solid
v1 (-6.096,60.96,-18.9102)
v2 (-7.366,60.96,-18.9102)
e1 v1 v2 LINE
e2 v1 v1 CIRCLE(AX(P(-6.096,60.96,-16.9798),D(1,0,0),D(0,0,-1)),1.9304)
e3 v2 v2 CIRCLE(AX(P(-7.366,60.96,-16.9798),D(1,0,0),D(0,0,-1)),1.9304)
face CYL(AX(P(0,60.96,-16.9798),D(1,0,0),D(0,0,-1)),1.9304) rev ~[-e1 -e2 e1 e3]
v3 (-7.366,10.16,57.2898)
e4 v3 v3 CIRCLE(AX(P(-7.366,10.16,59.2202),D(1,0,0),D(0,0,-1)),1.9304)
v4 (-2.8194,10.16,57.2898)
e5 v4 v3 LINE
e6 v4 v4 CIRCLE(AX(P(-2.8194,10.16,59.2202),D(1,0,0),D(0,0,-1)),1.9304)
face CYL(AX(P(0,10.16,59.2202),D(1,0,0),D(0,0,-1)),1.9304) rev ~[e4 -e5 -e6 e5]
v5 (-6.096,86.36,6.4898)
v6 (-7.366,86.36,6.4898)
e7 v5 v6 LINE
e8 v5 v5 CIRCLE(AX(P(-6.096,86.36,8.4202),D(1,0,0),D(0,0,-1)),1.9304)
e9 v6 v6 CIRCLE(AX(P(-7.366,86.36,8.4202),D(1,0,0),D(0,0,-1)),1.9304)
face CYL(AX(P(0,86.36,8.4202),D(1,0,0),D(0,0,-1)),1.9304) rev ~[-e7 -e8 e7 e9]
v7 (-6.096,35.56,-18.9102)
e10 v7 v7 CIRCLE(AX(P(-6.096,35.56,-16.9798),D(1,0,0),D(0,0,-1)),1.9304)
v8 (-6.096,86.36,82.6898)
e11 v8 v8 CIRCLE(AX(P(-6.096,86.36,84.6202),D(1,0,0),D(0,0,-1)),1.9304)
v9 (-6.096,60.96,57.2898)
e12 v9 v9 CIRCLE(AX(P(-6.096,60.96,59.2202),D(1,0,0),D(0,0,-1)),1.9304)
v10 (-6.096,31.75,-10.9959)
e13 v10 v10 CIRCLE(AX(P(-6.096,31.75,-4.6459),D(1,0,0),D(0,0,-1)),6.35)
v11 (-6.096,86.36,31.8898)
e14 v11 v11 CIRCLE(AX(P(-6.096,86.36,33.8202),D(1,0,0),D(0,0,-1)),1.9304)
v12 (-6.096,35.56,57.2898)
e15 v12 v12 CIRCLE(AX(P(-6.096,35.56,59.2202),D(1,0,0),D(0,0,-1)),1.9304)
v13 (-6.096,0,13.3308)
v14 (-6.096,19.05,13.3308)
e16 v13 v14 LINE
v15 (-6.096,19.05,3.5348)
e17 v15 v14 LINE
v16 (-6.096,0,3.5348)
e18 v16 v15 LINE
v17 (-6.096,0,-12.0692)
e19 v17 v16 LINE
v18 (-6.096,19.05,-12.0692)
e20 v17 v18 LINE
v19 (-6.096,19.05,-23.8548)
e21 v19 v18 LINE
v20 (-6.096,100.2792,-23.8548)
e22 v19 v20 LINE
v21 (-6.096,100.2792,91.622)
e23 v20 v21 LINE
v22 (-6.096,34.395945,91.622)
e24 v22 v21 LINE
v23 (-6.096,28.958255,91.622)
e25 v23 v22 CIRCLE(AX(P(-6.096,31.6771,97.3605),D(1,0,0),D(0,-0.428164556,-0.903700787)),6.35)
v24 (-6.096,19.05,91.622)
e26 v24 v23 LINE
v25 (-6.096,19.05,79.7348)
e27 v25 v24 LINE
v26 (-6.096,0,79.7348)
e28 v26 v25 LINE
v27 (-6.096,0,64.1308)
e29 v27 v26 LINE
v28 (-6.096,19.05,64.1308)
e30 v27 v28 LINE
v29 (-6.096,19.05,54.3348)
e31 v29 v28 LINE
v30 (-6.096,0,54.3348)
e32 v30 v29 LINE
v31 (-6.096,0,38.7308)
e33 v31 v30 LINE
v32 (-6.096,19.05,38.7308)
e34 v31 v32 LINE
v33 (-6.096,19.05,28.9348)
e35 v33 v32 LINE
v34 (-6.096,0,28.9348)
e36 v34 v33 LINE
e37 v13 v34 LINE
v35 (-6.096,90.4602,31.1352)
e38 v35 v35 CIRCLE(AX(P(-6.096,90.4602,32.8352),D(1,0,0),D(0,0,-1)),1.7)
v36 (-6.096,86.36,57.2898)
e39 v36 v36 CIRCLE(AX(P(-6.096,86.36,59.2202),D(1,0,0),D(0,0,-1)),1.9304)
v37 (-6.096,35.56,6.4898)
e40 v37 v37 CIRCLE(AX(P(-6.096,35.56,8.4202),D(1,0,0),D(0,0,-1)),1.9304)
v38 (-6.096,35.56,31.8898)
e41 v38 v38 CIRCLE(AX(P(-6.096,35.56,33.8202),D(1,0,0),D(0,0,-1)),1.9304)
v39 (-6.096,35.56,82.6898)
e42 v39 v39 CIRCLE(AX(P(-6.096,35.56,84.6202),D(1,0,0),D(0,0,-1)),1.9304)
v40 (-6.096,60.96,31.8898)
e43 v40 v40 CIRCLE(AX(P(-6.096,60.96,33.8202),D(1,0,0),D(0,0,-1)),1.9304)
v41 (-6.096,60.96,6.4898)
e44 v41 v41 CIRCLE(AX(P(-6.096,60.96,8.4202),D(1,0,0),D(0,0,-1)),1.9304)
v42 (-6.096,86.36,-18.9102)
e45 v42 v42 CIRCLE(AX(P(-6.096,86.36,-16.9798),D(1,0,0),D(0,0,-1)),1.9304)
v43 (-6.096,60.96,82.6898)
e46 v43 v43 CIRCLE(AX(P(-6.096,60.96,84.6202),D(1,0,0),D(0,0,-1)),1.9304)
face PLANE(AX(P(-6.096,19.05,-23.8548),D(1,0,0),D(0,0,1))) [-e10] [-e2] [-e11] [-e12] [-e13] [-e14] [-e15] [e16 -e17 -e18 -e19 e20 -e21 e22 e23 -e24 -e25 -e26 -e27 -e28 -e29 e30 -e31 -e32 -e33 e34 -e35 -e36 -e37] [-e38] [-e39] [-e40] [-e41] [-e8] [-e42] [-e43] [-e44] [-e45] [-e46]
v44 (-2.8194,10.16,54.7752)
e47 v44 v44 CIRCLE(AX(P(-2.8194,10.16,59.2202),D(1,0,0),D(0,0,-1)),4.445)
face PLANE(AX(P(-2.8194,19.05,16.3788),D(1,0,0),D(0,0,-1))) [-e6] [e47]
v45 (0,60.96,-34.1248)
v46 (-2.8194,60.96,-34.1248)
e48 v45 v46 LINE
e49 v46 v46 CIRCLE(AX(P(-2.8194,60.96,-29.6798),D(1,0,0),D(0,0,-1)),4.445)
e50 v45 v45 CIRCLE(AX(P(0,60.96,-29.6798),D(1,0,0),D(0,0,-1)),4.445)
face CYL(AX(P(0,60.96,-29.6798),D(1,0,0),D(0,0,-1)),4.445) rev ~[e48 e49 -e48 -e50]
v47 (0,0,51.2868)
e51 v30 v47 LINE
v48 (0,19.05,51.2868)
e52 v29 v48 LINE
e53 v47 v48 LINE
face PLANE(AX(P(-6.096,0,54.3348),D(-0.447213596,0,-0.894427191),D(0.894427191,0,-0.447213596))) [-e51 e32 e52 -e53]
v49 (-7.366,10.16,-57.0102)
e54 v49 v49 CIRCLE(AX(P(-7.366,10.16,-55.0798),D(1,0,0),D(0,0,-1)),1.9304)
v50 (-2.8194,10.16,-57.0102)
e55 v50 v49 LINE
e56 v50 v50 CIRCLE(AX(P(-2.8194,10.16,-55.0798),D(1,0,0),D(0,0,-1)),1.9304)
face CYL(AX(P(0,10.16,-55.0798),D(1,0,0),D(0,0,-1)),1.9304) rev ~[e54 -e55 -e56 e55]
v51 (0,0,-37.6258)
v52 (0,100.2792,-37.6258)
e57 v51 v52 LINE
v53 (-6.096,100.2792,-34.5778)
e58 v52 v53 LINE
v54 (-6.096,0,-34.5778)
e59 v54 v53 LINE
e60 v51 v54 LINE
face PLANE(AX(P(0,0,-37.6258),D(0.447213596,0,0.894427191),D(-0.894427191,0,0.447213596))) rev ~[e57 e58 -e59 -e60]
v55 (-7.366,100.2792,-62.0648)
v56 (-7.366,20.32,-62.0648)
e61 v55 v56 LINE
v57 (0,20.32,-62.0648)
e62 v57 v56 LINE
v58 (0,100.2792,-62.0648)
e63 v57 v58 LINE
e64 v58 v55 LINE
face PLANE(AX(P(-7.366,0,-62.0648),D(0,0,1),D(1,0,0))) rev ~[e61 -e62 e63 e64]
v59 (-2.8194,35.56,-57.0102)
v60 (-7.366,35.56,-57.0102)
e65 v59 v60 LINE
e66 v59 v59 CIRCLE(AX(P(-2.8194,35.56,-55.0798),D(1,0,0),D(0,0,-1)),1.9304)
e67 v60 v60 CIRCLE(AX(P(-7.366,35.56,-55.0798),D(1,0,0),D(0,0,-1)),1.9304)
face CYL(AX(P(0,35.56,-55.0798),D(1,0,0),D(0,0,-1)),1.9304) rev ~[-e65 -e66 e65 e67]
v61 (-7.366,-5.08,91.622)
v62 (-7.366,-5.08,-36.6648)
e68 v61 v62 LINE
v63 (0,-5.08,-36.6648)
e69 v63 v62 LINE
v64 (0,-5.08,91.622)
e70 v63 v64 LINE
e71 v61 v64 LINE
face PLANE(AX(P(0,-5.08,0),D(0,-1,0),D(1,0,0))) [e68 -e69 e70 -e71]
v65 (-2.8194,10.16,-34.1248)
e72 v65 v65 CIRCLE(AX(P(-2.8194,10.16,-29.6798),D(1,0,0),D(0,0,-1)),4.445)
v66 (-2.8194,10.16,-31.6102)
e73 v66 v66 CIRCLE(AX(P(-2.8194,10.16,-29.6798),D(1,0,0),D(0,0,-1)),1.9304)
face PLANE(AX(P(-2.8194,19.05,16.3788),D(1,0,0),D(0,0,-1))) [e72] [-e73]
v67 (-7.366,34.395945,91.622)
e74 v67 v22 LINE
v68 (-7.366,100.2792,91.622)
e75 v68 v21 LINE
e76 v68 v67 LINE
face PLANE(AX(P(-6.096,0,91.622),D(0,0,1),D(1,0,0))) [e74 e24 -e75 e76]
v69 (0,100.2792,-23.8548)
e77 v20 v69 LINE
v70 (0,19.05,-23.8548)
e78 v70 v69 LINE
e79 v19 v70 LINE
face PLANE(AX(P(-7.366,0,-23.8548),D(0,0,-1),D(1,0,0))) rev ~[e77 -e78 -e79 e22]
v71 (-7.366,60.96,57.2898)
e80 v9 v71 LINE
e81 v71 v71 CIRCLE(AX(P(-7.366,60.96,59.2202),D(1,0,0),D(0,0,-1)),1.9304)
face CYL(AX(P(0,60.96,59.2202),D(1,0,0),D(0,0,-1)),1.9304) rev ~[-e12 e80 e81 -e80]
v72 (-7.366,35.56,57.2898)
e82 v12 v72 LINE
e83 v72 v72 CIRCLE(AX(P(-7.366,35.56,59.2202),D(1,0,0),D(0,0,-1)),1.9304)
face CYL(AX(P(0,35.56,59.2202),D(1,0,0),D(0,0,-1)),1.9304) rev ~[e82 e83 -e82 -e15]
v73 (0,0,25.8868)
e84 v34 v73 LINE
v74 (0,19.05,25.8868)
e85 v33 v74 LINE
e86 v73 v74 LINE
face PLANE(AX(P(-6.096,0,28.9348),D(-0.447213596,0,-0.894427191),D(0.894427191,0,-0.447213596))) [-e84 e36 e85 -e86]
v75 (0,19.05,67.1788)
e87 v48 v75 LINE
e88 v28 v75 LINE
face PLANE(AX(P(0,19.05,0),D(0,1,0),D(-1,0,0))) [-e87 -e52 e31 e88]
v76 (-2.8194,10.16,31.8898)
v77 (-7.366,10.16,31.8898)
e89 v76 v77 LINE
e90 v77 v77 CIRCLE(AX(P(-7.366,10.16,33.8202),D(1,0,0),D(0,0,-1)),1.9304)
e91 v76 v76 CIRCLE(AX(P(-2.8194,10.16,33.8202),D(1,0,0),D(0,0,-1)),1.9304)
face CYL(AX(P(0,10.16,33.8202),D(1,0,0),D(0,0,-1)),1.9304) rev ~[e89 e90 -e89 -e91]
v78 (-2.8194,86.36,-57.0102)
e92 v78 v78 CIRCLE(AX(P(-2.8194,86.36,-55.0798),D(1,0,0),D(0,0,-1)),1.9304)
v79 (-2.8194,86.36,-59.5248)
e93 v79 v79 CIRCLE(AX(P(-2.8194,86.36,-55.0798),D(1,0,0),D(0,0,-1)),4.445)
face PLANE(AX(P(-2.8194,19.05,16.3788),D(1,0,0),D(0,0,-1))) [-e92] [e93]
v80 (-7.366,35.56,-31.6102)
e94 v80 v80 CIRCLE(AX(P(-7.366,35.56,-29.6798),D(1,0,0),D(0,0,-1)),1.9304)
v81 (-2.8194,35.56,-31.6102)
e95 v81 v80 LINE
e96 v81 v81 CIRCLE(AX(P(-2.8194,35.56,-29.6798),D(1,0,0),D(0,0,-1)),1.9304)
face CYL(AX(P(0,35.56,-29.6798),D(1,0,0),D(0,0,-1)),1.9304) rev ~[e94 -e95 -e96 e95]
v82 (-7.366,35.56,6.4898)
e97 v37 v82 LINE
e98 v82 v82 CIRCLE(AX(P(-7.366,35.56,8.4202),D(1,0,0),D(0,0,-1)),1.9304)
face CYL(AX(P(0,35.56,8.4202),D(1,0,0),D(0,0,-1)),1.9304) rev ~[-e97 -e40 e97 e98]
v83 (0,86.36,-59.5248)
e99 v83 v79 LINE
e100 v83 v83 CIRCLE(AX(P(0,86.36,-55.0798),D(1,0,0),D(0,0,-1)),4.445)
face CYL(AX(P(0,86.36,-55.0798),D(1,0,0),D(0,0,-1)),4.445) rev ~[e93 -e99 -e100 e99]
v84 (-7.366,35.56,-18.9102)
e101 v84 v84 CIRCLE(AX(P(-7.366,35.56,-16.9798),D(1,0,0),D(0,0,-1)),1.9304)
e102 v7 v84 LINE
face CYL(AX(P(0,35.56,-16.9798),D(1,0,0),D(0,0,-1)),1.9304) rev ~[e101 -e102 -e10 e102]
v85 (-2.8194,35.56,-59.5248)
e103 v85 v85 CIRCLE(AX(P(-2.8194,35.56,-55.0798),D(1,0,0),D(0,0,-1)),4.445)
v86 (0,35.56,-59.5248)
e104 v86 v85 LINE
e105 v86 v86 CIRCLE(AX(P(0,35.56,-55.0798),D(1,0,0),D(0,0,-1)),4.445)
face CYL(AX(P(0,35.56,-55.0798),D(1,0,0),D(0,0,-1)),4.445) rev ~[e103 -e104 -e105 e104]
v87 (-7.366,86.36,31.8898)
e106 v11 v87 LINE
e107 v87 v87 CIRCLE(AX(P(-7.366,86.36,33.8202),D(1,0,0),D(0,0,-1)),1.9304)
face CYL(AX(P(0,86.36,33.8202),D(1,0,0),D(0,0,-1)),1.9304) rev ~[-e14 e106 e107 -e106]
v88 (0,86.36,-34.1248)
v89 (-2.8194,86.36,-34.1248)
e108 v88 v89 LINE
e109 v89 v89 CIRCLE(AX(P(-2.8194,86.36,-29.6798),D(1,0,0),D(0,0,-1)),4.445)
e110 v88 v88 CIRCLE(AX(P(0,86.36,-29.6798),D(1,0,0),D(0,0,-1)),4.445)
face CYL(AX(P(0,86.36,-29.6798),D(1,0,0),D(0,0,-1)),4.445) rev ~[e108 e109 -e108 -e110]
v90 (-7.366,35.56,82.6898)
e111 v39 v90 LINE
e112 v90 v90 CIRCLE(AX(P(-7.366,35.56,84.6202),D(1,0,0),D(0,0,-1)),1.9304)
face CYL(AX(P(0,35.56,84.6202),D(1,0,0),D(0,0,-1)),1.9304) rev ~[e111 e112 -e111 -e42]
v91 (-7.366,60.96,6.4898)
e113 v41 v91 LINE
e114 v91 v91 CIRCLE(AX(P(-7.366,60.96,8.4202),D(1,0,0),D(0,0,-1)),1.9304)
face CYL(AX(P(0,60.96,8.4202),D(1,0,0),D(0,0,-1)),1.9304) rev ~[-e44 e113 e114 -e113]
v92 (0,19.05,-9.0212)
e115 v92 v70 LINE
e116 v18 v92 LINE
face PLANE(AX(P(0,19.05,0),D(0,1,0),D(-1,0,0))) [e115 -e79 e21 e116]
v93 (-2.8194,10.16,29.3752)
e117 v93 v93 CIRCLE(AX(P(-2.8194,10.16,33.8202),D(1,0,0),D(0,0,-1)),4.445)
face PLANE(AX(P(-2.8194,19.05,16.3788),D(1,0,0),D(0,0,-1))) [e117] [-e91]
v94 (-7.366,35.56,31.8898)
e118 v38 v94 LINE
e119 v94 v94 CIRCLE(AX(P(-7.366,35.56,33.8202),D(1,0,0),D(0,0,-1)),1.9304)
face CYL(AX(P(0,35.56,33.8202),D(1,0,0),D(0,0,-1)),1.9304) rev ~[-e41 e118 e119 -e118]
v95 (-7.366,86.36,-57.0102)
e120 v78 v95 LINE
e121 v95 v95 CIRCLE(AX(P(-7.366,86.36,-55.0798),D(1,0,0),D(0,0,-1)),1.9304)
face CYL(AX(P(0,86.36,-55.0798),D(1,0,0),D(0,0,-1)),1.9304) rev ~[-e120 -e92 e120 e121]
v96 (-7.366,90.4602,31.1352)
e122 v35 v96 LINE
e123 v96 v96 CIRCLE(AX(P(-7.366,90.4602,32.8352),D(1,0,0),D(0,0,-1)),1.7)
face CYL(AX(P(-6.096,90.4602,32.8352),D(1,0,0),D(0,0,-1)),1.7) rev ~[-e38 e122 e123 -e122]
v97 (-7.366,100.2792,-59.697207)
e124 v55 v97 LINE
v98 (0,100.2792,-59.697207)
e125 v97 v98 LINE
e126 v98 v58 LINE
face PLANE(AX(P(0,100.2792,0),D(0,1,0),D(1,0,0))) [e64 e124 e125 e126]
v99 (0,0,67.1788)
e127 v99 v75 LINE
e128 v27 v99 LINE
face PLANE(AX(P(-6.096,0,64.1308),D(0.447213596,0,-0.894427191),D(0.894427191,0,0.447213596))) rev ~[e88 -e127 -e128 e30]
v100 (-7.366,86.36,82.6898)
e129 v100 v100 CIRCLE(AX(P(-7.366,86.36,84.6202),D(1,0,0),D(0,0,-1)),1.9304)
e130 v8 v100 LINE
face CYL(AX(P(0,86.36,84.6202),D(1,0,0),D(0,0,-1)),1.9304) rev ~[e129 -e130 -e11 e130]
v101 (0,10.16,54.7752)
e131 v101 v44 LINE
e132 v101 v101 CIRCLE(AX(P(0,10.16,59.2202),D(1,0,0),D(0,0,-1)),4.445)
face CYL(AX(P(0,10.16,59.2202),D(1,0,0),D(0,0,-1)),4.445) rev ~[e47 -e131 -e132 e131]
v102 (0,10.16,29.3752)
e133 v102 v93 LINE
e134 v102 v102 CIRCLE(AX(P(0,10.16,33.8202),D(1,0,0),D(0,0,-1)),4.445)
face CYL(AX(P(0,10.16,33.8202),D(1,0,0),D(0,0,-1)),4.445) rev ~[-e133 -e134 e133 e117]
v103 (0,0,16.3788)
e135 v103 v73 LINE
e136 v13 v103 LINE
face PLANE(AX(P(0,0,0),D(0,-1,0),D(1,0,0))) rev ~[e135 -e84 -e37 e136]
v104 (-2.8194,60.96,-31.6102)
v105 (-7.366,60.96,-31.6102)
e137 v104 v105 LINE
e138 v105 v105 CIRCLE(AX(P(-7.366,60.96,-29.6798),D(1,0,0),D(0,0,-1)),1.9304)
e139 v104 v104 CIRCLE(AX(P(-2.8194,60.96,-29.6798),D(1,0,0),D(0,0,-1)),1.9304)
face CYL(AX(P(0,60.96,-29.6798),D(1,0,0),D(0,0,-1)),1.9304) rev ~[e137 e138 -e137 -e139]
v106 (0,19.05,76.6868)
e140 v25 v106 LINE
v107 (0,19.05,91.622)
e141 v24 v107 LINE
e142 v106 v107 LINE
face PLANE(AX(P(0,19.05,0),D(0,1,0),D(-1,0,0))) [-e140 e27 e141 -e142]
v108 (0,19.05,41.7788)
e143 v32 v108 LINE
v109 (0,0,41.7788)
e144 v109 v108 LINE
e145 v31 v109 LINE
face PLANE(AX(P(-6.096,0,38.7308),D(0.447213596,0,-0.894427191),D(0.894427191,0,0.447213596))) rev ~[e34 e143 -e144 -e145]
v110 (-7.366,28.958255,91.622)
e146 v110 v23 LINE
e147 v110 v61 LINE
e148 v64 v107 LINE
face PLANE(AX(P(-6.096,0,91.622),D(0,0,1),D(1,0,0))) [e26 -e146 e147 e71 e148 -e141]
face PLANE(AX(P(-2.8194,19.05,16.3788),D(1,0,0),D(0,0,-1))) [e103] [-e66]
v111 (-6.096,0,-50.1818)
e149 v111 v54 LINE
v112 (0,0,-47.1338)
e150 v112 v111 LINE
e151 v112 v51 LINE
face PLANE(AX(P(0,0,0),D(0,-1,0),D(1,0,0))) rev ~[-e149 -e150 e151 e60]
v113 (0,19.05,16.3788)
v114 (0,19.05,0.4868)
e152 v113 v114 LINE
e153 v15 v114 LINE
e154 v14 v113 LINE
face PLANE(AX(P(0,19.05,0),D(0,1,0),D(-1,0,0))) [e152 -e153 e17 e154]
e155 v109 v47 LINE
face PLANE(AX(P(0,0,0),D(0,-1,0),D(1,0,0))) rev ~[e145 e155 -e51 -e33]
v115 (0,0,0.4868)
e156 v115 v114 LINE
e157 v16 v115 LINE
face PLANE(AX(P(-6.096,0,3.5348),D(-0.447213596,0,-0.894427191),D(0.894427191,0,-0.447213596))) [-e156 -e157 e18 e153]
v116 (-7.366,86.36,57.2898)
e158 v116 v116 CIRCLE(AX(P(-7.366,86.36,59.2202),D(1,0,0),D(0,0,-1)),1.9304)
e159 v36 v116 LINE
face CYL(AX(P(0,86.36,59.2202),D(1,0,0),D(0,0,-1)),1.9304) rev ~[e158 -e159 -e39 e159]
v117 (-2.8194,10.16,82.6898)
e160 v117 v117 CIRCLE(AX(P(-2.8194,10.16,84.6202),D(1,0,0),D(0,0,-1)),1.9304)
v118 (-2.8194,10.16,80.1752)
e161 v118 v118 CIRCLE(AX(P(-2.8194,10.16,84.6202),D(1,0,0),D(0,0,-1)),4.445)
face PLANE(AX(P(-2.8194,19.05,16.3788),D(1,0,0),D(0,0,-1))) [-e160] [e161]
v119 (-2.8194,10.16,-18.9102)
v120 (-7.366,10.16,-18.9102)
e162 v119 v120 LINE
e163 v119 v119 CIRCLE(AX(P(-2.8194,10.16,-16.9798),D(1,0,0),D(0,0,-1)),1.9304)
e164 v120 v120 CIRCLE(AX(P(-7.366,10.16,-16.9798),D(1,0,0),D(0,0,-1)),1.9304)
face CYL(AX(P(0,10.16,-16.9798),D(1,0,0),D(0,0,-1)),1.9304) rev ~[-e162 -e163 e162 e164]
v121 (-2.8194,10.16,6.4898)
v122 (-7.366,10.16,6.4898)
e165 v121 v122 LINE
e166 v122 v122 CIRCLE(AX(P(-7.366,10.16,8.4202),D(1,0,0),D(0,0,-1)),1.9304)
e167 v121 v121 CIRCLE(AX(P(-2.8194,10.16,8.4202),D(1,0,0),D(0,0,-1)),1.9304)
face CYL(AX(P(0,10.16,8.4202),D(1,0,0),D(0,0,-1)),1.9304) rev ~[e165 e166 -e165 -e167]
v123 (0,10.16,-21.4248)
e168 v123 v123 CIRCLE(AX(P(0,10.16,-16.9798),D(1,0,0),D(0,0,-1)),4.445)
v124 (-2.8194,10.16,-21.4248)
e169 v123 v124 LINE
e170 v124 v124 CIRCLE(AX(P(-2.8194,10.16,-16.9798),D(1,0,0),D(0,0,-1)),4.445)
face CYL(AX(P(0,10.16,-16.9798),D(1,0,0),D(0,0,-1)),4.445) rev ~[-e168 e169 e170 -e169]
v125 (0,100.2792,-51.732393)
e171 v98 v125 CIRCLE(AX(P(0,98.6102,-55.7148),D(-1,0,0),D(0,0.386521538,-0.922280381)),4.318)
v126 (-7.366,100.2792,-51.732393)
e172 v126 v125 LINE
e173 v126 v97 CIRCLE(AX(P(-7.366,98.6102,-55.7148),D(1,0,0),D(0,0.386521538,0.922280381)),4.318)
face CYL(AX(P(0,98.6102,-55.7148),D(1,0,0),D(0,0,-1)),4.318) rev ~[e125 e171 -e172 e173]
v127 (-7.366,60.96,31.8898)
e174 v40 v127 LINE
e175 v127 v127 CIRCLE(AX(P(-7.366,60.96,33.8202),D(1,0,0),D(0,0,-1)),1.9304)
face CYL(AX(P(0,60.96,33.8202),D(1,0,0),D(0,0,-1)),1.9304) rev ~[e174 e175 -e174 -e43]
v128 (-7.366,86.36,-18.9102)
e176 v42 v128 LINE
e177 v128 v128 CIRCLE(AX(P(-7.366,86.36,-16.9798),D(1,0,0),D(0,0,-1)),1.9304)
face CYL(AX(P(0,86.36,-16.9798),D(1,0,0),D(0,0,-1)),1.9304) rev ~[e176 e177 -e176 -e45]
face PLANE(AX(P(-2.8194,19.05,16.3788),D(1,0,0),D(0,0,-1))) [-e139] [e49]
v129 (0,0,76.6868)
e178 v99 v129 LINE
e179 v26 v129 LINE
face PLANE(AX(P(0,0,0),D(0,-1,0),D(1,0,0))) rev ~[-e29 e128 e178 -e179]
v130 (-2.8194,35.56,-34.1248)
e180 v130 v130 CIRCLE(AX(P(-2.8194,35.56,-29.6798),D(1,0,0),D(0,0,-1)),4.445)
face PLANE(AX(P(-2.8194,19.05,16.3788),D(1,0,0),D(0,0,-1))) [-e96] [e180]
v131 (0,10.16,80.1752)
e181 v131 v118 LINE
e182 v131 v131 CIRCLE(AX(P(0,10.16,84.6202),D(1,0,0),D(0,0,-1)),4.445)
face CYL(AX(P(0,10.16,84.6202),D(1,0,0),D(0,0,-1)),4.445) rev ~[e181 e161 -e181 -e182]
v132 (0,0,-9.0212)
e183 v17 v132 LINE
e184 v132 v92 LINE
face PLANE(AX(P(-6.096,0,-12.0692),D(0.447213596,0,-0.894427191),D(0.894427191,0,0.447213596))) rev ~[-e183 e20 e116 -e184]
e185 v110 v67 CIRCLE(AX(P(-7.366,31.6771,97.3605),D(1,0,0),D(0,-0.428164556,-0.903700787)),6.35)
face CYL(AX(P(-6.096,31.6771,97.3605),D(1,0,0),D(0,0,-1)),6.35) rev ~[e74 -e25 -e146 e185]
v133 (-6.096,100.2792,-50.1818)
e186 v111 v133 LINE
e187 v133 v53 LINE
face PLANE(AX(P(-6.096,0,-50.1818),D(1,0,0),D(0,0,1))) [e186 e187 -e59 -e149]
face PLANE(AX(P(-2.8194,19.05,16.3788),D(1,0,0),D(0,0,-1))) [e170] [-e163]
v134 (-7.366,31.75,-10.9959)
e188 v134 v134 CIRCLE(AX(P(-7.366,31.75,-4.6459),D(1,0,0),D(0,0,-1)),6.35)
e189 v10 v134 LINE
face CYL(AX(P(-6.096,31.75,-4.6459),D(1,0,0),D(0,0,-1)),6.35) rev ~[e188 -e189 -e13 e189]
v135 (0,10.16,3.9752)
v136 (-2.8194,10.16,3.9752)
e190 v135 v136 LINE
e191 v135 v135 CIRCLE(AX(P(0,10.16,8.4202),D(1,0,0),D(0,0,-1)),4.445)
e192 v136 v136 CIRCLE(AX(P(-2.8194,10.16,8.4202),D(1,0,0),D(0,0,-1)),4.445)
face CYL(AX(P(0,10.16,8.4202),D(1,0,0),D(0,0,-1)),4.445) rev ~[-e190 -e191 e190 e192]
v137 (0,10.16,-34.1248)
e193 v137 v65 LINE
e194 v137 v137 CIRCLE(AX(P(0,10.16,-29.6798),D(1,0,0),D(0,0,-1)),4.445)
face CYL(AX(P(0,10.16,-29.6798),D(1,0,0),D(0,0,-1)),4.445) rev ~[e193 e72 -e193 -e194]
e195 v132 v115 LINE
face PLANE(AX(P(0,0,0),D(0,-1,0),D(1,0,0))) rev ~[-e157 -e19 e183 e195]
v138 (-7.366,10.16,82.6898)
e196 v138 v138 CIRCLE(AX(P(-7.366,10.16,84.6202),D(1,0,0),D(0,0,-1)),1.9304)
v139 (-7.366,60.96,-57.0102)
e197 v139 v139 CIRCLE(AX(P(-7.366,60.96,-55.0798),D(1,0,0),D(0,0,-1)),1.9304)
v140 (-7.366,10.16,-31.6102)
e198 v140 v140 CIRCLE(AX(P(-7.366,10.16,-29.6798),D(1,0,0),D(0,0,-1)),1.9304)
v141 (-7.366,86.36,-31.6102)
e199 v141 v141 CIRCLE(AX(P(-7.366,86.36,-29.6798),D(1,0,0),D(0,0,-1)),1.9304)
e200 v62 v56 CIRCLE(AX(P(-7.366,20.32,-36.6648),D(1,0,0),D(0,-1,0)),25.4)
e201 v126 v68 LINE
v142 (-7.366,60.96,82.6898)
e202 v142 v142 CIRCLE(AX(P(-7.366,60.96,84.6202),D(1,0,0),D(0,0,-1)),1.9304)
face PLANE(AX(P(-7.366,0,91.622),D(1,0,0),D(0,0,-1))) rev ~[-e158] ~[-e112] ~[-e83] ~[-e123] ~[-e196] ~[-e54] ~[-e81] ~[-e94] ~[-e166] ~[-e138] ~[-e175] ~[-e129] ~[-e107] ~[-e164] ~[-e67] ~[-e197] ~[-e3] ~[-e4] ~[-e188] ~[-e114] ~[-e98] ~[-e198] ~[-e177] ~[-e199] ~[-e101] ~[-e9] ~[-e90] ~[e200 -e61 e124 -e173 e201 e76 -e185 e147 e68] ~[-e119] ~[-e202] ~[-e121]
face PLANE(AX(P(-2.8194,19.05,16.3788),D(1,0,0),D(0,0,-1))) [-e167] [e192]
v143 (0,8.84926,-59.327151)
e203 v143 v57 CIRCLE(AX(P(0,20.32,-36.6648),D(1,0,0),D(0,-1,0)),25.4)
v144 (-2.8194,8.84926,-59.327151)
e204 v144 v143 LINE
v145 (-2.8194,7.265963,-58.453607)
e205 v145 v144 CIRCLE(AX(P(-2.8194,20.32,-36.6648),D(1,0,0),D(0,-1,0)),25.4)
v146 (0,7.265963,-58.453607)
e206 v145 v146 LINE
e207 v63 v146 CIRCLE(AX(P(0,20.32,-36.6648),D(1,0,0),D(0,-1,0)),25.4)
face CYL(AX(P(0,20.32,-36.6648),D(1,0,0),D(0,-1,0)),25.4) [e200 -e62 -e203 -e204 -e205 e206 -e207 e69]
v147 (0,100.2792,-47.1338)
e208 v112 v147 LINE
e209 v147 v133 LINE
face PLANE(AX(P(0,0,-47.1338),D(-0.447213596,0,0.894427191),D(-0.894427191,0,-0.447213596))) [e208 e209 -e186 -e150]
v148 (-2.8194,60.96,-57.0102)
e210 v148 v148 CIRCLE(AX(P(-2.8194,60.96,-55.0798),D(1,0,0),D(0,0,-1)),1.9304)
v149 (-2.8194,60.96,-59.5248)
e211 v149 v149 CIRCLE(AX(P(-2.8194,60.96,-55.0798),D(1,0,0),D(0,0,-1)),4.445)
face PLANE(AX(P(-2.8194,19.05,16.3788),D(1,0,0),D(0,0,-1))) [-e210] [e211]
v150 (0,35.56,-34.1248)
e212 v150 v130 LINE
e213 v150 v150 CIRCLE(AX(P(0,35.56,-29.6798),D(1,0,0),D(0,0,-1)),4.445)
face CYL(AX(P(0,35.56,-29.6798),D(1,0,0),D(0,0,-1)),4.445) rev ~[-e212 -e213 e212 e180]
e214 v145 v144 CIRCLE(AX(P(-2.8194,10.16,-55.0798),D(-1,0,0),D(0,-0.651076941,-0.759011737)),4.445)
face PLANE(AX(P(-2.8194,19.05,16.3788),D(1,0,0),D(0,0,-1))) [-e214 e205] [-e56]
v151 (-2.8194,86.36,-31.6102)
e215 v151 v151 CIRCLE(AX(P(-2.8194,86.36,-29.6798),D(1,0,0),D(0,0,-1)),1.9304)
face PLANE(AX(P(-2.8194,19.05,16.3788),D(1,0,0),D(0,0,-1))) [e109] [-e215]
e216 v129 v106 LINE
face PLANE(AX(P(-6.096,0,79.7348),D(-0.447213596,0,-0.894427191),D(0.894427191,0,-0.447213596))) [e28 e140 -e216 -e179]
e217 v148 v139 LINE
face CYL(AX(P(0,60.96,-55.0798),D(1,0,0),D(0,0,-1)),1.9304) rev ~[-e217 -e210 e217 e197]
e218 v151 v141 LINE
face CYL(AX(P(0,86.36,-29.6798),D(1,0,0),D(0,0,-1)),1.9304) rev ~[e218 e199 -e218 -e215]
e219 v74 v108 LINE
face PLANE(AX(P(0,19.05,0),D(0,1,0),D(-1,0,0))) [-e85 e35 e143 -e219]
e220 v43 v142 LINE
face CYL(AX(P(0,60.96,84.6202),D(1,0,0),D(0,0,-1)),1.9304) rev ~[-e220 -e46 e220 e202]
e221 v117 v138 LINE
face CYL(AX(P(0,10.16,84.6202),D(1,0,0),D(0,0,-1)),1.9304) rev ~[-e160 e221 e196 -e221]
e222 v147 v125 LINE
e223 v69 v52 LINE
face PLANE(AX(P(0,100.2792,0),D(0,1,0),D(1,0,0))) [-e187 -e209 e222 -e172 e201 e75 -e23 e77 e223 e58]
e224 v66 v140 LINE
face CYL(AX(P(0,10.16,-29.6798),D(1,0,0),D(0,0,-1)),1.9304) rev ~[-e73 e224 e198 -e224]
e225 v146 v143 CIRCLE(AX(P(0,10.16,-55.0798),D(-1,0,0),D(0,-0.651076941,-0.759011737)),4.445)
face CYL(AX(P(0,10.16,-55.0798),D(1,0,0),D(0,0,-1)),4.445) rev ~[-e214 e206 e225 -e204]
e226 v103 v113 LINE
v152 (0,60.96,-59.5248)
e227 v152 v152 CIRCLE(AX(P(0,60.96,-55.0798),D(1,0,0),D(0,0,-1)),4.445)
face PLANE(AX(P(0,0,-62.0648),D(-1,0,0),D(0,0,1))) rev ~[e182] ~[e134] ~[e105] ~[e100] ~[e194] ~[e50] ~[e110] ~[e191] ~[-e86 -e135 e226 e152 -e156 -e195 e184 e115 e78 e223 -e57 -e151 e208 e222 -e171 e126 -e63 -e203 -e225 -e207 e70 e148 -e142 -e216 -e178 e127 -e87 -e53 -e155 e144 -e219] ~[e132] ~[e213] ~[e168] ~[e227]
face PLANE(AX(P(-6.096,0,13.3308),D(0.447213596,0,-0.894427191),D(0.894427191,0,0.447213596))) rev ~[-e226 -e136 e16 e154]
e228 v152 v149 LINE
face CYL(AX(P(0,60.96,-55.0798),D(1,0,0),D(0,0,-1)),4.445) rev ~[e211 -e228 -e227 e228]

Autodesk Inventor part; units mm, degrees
ref_plane "YZ Plane" through (0, 0, 0) normal (1, 0, 0) x (0, 1, 0)
ref_plane "XZ Plane" through (0, 0, 0) normal (0, 1, 0) x (-1, 0, 0)
ref_plane "XY Plane" through (0, 0, 0) normal (0, 0, 1) x (1, 0, 0)
sketch "Sketch1" plane through (0, 0, 0) normal (0, 1, 0) x (-1, 0, 0)
  line L0 (7.366, 6.1452) -> (7.366, -23.8548)
  line L1 (7.366, -23.8548) -> (0, -23.8548)
  line L2 (6.096, -8.0476) -> (6.096, -9.0212)
  line L3 (0, 0.4868) -> (0, 3.5348)
  line L4 (6.096, 3.5348) -> (6.096, -8.0476)
  line L5 (0, -9.0212) -> (0, -11.8152)
  line L6 (6.096, -12.0692) -> (6.096, -9.0212)
  line L7 (6.096, 3.5348) -> (0, 0.4868)
  line L8 (6.096, -12.0692) -> (0, -9.0212)
  line L9 (0, -23.8548) -> (0, -9.0212)
  line L10 (0, 0.4868) -> (0, 16.3788)
  line L11 (6.096, 13.3308) -> (6.096, 16.3788)
  line L12 (6.096, 13.3308) -> (0, 16.3788)
  line L13 (6.096, 28.9348) -> (6.096, 17.3524)
  line L14 (6.096, 28.9348) -> (0, 25.8868)
  line L15 (6.096, 17.3524) -> (6.096, 16.3788)
  line L16 (6.096, 38.7308) -> (6.096, 41.7788)
  line L17 (6.096, 38.7308) -> (0, 41.7788)
  line L18 (6.096, 54.3348) -> (6.096, 42.7524)
  line L19 (6.096, 54.3348) -> (0, 51.2868)
  line L20 (6.096, 42.7524) -> (6.096, 41.7788)
  line L21 (6.096, 64.1308) -> (6.096, 67.1788)
  line L22 (6.096, 64.1308) -> (0, 67.1788)
  line L23 (6.096, 79.7348) -> (6.096, 68.1524)
  line L24 (6.096, 79.7348) -> (0, 76.6868)
  line L25 (6.096, 68.1524) -> (6.096, 67.1788)
  line L26 (7.366, 6.1452) -> (7.366, 91.622)
  line L27 (7.366, 91.622) -> (0, 91.622)
  line L28 (0, 25.8868) -> (0, 41.7788)
  line L29 (0, 51.2868) -> (0, 67.1788)
  line L30 (0, 76.6868) -> (0, 91.622)
  line L31 (6.096, -4.2672) -> (4.0009, -4.2672) construction
  point P0 (0, 0)
  dimension "d0" = 7.366
  dimension "d8" = 9.508
  dimension "d10" = 3.048
  dimension "d11" = 3.048
  dimension "d12" = 6.096
  dimension "d17" = 25.4
  dimension "d24" = 11.7856
  dimension "d67" = 115.4768
  dimension "d70" = 23.8548
  dimension "d71" = 4.754
extrude "MultipleTeeth" add sketch "Sketch1" along normal blind 19.05
sketch "Sketch2" plane through (0, 0, 0) normal (0, -1, 0) x (1, 0, 0)
  line L0 (0, 0.4868) -> (-6.096, 3.5348) construction
  line L1 (-6.096, 3.5348) -> (-6.096, -12.0692) construction
  line L2 (-6.096, -12.0692) -> (0, -9.0212) construction
  line L3 (0, 16.3788) -> (0, 0.4868) projected
  line L4 (0, 0.4868) -> (-6.096, 3.5348)
  line L5 (-6.096, -12.0692) -> (0, -9.0212) projected
  line L6 (-6.096, 3.5348) -> (-6.096, -12.0692) projected
  line L7 (-6.096, -12.0692) -> (-6.096, 3.5348)
  line L8 (0, -9.0212) -> (-6.096, -12.0692)
  line L9 (-7.366, -23.8548) -> (-7.366, 91.622) projected
  line L10 (-7.366, -59.508) -> (-7.366, -32.8548)
  line L11 (-7.366, -23.8548) -> (0, -23.8548)
  line L12 (-7.366, 91.622) -> (0, 91.622) projected
  line L13 (-7.366, -55.8503) -> (-7.366, -40.458) construction
  line L14 (0, -43.0234) -> (0, -59.508) construction
  line L15 (-6.096, -62.0648) -> (0, -62.0648) construction
  line L16 (0, -32.8548) -> (0, -37.6258)
  line L17 (0, -49.9828) -> (0, -62.0648)
  line L18 (0, -62.0648) -> (0, -59.508)
  line L19 (0, -32.8548) -> (-7.366, -32.8548) construction
  line L20 (0, -51.9048) -> (-7.366, -51.9048) construction
  line L21 (0, -42.3798) -> (-7.366, -42.3798) construction
  line L22 (-6.096, -12.0692) -> (-6.096, -62.0648) construction
  line L23 (0, -37.6258) -> (-6.096, -34.5778)
  line L24 (-6.096, -50.1818) -> (-6.096, -34.5778)
  line L25 (0, -47.1338) -> (-6.096, -50.1818)
  line L26 (0, -9.0212) -> (0, -23.8548) projected
  line L27 (0, -23.8548) -> (0, -32.8548)
  line L28 (-7.366, -32.8548) -> (-7.366, -23.8548)
  line L29 (0, -49.9828) -> (0, -47.1338)
  line L30 (0, -62.0648) -> (-7.366, -62.0648)
  line L31 (-7.366, -62.0648) -> (-7.366, -59.508)
  point P0 (0, 0)
  dimension "d25" = 115.4768
  dimension "d33" = 9
  dimension "d34" = 19.05
  dimension "d36" = 9.525
  dimension "d38" = 10.16
extrude "LongTooth" add sketch "Sketch2" against normal blind 100.2792
sketch "Sketch3" plane through (0, 19.05, 0) normal (0, 1, 0) x (1, 0, 0)
  line L0 (-6.096, -3.5348) -> (-6.096, 12.0692) construction
  line L1 (0, 23.8548) -> (-7.366, 23.8548) projected
  line L2 (-7.366, -91.622) -> (0, -91.622) projected
  line L3 (-7.366, 23.8548) -> (-6.096, 23.8548)
  line L4 (-6.096, 23.8548) -> (-6.096, -91.622)
  line L5 (-6.096, -91.622) -> (-7.366, -91.622)
  line L6 (-7.366, -91.622) -> (-7.366, 23.8548)
  point P0 (0, 0)
extrude "ThinPlate" add sketch "Sketch3" along normal up to surface (81.2292 mm away)
sketch "Sketch4" plane through (0, 0, 0) normal (0, -1, 0) x (1, 0, 0)
  line L0 (-6.096, 91.622) -> (0, 91.622) projected
  line L1 (-7.366, 91.622) -> (-7.366, -62.0648) projected
  line L2 (0, 91.622) -> (-7.366, 91.622)
  line L3 (-7.366, 91.622) -> (-7.366, -62.0648)
  line L4 (-7.366, -62.0648) -> (0, -62.0648)
  line L5 (0, -62.0648) -> (0, 91.622)
  point P0 (0, 0)
extrude "Extrusion4" add sketch "Sketch4" along normal blind 5.08
ref_plane "Work Plane1" through (-15.892, 0, 8.4328) normal (0, 0, 1) x (0, 1, 0)
sketch "Sketch6" plane through (0, 19.05, 16.3788) normal (1, 0, 0) x (0, 0, -1)
  circle A0 centre (71.4586, -8.89) radius 1.9304
  line L0 (78.4436, -24.13) -> (78.4436, 81.2292) projected
  line L1 (78.4436, -24.13) -> (-75.2432, -24.13) projected
  circle A1 centre (58.7586, -8.89) radius 1.9304
  circle A2 centre (46.0586, -8.89) radius 1.9304
  circle A3 centre (71.4586, 3.81) radius 1.9304
  circle A4 centre (58.7586, 3.81) radius 1.9304
  circle A5 centre (46.0586, 3.81) radius 1.9304
  circle A6 centre (71.4586, 16.51) radius 1.9304
  circle A7 centre (58.7586, 16.51) radius 1.9304
  circle A8 centre (46.0586, 16.51) radius 1.9304
  circle A9 centre (71.4586, 29.21) radius 1.9304
  circle A10 centre (58.7586, 29.21) radius 1.9304
  circle A11 centre (46.0586, 29.21) radius 1.9304
  circle A12 centre (71.4586, 41.91) radius 1.9304
  circle A13 centre (58.7586, 41.91) radius 1.9304
  circle A14 centre (46.0586, 41.91) radius 1.9304
  circle A15 centre (71.4586, 54.61) radius 1.9304
  circle A16 centre (58.7586, 54.61) radius 1.9304
  circle A17 centre (46.0586, 54.61) radius 1.9304
  circle A18 centre (71.4586, 67.31) radius 1.9304
  circle A19 centre (58.7586, 67.31) radius 1.9304
  circle A20 centre (46.0586, 67.31) radius 1.9304
  circle A21 centre (33.3586, -8.89) radius 1.9304
  circle A22 centre (33.3586, 3.81) radius 1.9304
  circle A23 centre (33.3586, 16.51) radius 1.9304
  circle A24 centre (33.3586, 29.21) radius 1.9304
  circle A25 centre (33.3586, 41.91) radius 1.9304
  circle A26 centre (33.3586, 54.61) radius 1.9304
  circle A27 centre (33.3586, 67.31) radius 1.9304
  circle A28 centre (20.6586, -8.89) radius 1.9304
  circle A29 centre (20.6586, 3.81) radius 1.9304
  circle A30 centre (20.6586, 16.51) radius 1.9304
  circle A31 centre (20.6586, 29.21) radius 1.9304
  circle A32 centre (20.6586, 41.91) radius 1.9304
  circle A33 centre (20.6586, 54.61) radius 1.9304
  circle A34 centre (20.6586, 67.31) radius 1.9304
  circle A35 centre (7.9586, -8.89) radius 1.9304
  circle A36 centre (7.9586, 3.81) radius 1.9304
  circle A37 centre (7.9586, 16.51) radius 1.9304
  circle A38 centre (7.9586, 29.21) radius 1.9304
  circle A39 centre (7.9586, 41.91) radius 1.9304
  circle A40 centre (7.9586, 54.61) radius 1.9304
  circle A41 centre (7.9586, 67.31) radius 1.9304
  circle A42 centre (-4.7414, -8.89) radius 1.9304
  circle A43 centre (-4.7414, 3.81) radius 1.9304
  circle A44 centre (-4.7414, 16.51) radius 1.9304
  circle A45 centre (-4.7414, 29.21) radius 1.9304
  circle A46 centre (-4.7414, 41.91) radius 1.9304
  circle A47 centre (-4.7414, 54.61) radius 1.9304
  circle A48 centre (-4.7414, 67.31) radius 1.9304
  circle A49 centre (-17.4414, -8.89) radius 1.9304
  circle A50 centre (-17.4414, 3.81) radius 1.9304
  circle A51 centre (-17.4414, 16.51) radius 1.9304
  circle A52 centre (-17.4414, 29.21) radius 1.9304
  circle A53 centre (-17.4414, 41.91) radius 1.9304
  circle A54 centre (-17.4414, 54.61) radius 1.9304
  circle A55 centre (-17.4414, 67.31) radius 1.9304
  circle A56 centre (-30.1414, -8.89) radius 1.9304
  circle A57 centre (-30.1414, 3.81) radius 1.9304
  circle A58 centre (-30.1414, 16.51) radius 1.9304
  circle A59 centre (-30.1414, 29.21) radius 1.9304
  circle A60 centre (-30.1414, 41.91) radius 1.9304
  circle A61 centre (-30.1414, 54.61) radius 1.9304
  circle A62 centre (-30.1414, 67.31) radius 1.9304
  circle A63 centre (-42.8414, -8.89) radius 1.9304
  circle A64 centre (-42.8414, 3.81) radius 1.9304
  circle A65 centre (-42.8414, 16.51) radius 1.9304
  circle A66 centre (-42.8414, 29.21) radius 1.9304
  circle A67 centre (-42.8414, 41.91) radius 1.9304
  circle A68 centre (-42.8414, 54.61) radius 1.9304
  circle A69 centre (-42.8414, 67.31) radius 1.9304
  circle A70 centre (-55.5414, -8.89) radius 1.9304
  circle A71 centre (-55.5414, 3.81) radius 1.9304
  circle A72 centre (-55.5414, 16.51) radius 1.9304
  circle A73 centre (-55.5414, 29.21) radius 1.9304
  circle A74 centre (-55.5414, 41.91) radius 1.9304
  circle A75 centre (-55.5414, 54.61) radius 1.9304
  circle A76 centre (-55.5414, 67.31) radius 1.9304
  circle A77 centre (-68.2414, -8.89) radius 1.9304
  circle A78 centre (-68.2414, 3.81) radius 1.9304
  circle A79 centre (-68.2414, 16.51) radius 1.9304
  circle A80 centre (-68.2414, 29.21) radius 1.9304
  circle A81 centre (-68.2414, 41.91) radius 1.9304
  circle A82 centre (-68.2414, 54.61) radius 1.9304
  circle A83 centre (-68.2414, 67.31) radius 1.9304
  point P0 (16.3788, -19.05)
  dimension "d56" = 3.8608
  dimension "d57" = 6.985
  dimension "d58" = 15.24
  dimension "d61" = 12.7
  dimension "d64" = 12.7
extrude "Extrusion5" cut sketch "Sketch6" against normal through all contours A0 | A2 | A6 | A8 | A12 | A14 | A18 | A20 | A21 | A23 | A25 | A27 | A35 | A37 | A39 | A41 | A49 | A51 | A53 | A55 | A63 | A65 | A67 | A69 | A77 | A79 | A81 | A83
sketch "Sketch7" plane through (0, 19.05, 16.3788) normal (1, 0, 0) x (0, 0, -1)
  circle A0 centre (-68.2414, -8.89) radius 1.9304 projected
  circle A1 centre (-68.2414, -8.89) radius 4.445
  circle A2 centre (-42.8414, -8.89) radius 1.9304 projected
  circle A3 centre (-42.8414, -8.89) radius 4.445
  circle A4 centre (-17.4414, -8.89) radius 1.9304 projected
  circle A5 centre (-17.4414, -8.89) radius 4.445
  circle A6 centre (7.9586, -8.89) radius 1.9304 projected
  circle A7 centre (7.9586, -8.89) radius 4.445
  circle A8 centre (33.3586, -8.89) radius 1.9304 projected
  circle A9 centre (33.3586, -8.89) radius 4.445
  circle A10 centre (46.0586, -8.89) radius 1.9304 projected
  circle A11 centre (46.0586, -8.89) radius 4.445
  circle A12 centre (71.4586, -8.89) radius 1.9304 projected
  circle A13 centre (71.4586, -8.89) radius 4.445
  circle A14 centre (46.0586, 16.51) radius 1.9304 projected
  circle A15 centre (46.0586, 16.51) radius 4.445
  circle A16 centre (71.4586, 16.51) radius 1.9304 projected
  circle A17 centre (71.4586, 16.51) radius 4.445
  circle A18 centre (46.0586, 41.91) radius 1.9304 projected
  circle A19 centre (46.0586, 41.91) radius 4.445
  circle A20 centre (71.4586, 41.91) radius 1.9304 projected
  circle A21 centre (71.4586, 41.91) radius 4.445
  circle A22 centre (46.0586, 67.31) radius 1.9304 projected
  circle A23 centre (46.0586, 67.31) radius 4.445
  circle A24 centre (71.4586, 67.31) radius 4.445
  point P0 (16.3788, -19.05)
  dimension "d74" = 8.89
  dimension "d75" = 8.89
  dimension "d76" = 8.89
  dimension "d77" = 8.89
  dimension "d78" = 8.89
  dimension "d79" = 8.89
  dimension "d80" = 8.89
  dimension "d81" = 8.89
  dimension "d82" = 8.89
  dimension "d83" = 8.89
  dimension "d84" = 8.89
  dimension "d85" = 8.89
  dimension "d86" = 8.89
extrude "Extrusion6" cut sketch "Sketch7" against normal blind 2.8194 contours A0 | A1 | A2 | A3 | A4 | A5 | A6 | A7 | A8 | A9 | A10 | A11 | A12 | A13 | A14 | A15 | A16 | A17 | A18 | A19 | A20 | A21 | A22 | A23 | A24
sketch "Sketch9" plane through (0, 19.05, 16.3788) normal (1, 0, 0) x (0, 0, -1)
  line L0 (78.4436, 81.2292) -> (78.4436, -24.13) projected
  line L1 (78.4436, -24.13) -> (78.4436, 1.27)
  line L2 (78.4436, -24.13) -> (53.0436, -24.13)
  line L3 (78.4436, -24.13) -> (-75.2432, -24.13) projected
  arc A0 (53.0436, -24.13) -> (78.4436, 1.27) centre (53.0436, 1.27) ccw
  point P0 (16.3788, -19.05)
  dimension "d91" = 25.4
  dimension "d92" = 25.4
extrude "Extrusion8" cut sketch "Sketch9" against normal through all
sketch "Sketch10" plane through (0, 19.05, 16.3788) normal (1, 0, 0) x (0, 0, -1)
  circle A0 centre (72.0936, 79.5602) radius 1.7 construction
  circle A1 centre (72.0936, 79.5602) radius 4.318
  point P0 (16.3788, -19.05)
  dimension "d95" = 8.636
extrude "Extrusion9" cut sketch "Sketch10" against normal through all
sketch "Sketch11" plane through (-6.096, 19.05, 91.622) normal (1, 0, 0) x (0, 0, -1)
  circle A0 centre (58.7868, 71.4102) radius 1.7 construction
  circle A1 centre (58.7868, 71.4102) radius 1.7
  point P0 (91.622, -19.05)
extrude "Extrusion10" cut sketch "Sketch11" against normal through all
sketch "Sketch12" plane through (-6.096, 19.05, 91.622) normal (1, 0, 0) x (0, 0, -1)
  circle A0 centre (96.2679, 12.7) radius 6.8834 construction
  circle A1 centre (96.2679, 12.7) radius 6.35
  circle A2 centre (-5.7385, 12.6271) radius 5 construction
  circle A3 centre (-5.7385, 12.6271) radius 6.35
  point P0 (91.622, -19.05)
  dimension "d100" = 12.7
  dimension "d101" = 12.7
extrude "Extrusion11" cut sketch "Sketch12" against normal blind 25.4
equation "\"d11\" = d10"
equation "\"d71\" = 0.5 * d8"
equation "\"d36\" = 0.5 * d34"
properties part number "Lift mount receiver left front for metal drive train"
